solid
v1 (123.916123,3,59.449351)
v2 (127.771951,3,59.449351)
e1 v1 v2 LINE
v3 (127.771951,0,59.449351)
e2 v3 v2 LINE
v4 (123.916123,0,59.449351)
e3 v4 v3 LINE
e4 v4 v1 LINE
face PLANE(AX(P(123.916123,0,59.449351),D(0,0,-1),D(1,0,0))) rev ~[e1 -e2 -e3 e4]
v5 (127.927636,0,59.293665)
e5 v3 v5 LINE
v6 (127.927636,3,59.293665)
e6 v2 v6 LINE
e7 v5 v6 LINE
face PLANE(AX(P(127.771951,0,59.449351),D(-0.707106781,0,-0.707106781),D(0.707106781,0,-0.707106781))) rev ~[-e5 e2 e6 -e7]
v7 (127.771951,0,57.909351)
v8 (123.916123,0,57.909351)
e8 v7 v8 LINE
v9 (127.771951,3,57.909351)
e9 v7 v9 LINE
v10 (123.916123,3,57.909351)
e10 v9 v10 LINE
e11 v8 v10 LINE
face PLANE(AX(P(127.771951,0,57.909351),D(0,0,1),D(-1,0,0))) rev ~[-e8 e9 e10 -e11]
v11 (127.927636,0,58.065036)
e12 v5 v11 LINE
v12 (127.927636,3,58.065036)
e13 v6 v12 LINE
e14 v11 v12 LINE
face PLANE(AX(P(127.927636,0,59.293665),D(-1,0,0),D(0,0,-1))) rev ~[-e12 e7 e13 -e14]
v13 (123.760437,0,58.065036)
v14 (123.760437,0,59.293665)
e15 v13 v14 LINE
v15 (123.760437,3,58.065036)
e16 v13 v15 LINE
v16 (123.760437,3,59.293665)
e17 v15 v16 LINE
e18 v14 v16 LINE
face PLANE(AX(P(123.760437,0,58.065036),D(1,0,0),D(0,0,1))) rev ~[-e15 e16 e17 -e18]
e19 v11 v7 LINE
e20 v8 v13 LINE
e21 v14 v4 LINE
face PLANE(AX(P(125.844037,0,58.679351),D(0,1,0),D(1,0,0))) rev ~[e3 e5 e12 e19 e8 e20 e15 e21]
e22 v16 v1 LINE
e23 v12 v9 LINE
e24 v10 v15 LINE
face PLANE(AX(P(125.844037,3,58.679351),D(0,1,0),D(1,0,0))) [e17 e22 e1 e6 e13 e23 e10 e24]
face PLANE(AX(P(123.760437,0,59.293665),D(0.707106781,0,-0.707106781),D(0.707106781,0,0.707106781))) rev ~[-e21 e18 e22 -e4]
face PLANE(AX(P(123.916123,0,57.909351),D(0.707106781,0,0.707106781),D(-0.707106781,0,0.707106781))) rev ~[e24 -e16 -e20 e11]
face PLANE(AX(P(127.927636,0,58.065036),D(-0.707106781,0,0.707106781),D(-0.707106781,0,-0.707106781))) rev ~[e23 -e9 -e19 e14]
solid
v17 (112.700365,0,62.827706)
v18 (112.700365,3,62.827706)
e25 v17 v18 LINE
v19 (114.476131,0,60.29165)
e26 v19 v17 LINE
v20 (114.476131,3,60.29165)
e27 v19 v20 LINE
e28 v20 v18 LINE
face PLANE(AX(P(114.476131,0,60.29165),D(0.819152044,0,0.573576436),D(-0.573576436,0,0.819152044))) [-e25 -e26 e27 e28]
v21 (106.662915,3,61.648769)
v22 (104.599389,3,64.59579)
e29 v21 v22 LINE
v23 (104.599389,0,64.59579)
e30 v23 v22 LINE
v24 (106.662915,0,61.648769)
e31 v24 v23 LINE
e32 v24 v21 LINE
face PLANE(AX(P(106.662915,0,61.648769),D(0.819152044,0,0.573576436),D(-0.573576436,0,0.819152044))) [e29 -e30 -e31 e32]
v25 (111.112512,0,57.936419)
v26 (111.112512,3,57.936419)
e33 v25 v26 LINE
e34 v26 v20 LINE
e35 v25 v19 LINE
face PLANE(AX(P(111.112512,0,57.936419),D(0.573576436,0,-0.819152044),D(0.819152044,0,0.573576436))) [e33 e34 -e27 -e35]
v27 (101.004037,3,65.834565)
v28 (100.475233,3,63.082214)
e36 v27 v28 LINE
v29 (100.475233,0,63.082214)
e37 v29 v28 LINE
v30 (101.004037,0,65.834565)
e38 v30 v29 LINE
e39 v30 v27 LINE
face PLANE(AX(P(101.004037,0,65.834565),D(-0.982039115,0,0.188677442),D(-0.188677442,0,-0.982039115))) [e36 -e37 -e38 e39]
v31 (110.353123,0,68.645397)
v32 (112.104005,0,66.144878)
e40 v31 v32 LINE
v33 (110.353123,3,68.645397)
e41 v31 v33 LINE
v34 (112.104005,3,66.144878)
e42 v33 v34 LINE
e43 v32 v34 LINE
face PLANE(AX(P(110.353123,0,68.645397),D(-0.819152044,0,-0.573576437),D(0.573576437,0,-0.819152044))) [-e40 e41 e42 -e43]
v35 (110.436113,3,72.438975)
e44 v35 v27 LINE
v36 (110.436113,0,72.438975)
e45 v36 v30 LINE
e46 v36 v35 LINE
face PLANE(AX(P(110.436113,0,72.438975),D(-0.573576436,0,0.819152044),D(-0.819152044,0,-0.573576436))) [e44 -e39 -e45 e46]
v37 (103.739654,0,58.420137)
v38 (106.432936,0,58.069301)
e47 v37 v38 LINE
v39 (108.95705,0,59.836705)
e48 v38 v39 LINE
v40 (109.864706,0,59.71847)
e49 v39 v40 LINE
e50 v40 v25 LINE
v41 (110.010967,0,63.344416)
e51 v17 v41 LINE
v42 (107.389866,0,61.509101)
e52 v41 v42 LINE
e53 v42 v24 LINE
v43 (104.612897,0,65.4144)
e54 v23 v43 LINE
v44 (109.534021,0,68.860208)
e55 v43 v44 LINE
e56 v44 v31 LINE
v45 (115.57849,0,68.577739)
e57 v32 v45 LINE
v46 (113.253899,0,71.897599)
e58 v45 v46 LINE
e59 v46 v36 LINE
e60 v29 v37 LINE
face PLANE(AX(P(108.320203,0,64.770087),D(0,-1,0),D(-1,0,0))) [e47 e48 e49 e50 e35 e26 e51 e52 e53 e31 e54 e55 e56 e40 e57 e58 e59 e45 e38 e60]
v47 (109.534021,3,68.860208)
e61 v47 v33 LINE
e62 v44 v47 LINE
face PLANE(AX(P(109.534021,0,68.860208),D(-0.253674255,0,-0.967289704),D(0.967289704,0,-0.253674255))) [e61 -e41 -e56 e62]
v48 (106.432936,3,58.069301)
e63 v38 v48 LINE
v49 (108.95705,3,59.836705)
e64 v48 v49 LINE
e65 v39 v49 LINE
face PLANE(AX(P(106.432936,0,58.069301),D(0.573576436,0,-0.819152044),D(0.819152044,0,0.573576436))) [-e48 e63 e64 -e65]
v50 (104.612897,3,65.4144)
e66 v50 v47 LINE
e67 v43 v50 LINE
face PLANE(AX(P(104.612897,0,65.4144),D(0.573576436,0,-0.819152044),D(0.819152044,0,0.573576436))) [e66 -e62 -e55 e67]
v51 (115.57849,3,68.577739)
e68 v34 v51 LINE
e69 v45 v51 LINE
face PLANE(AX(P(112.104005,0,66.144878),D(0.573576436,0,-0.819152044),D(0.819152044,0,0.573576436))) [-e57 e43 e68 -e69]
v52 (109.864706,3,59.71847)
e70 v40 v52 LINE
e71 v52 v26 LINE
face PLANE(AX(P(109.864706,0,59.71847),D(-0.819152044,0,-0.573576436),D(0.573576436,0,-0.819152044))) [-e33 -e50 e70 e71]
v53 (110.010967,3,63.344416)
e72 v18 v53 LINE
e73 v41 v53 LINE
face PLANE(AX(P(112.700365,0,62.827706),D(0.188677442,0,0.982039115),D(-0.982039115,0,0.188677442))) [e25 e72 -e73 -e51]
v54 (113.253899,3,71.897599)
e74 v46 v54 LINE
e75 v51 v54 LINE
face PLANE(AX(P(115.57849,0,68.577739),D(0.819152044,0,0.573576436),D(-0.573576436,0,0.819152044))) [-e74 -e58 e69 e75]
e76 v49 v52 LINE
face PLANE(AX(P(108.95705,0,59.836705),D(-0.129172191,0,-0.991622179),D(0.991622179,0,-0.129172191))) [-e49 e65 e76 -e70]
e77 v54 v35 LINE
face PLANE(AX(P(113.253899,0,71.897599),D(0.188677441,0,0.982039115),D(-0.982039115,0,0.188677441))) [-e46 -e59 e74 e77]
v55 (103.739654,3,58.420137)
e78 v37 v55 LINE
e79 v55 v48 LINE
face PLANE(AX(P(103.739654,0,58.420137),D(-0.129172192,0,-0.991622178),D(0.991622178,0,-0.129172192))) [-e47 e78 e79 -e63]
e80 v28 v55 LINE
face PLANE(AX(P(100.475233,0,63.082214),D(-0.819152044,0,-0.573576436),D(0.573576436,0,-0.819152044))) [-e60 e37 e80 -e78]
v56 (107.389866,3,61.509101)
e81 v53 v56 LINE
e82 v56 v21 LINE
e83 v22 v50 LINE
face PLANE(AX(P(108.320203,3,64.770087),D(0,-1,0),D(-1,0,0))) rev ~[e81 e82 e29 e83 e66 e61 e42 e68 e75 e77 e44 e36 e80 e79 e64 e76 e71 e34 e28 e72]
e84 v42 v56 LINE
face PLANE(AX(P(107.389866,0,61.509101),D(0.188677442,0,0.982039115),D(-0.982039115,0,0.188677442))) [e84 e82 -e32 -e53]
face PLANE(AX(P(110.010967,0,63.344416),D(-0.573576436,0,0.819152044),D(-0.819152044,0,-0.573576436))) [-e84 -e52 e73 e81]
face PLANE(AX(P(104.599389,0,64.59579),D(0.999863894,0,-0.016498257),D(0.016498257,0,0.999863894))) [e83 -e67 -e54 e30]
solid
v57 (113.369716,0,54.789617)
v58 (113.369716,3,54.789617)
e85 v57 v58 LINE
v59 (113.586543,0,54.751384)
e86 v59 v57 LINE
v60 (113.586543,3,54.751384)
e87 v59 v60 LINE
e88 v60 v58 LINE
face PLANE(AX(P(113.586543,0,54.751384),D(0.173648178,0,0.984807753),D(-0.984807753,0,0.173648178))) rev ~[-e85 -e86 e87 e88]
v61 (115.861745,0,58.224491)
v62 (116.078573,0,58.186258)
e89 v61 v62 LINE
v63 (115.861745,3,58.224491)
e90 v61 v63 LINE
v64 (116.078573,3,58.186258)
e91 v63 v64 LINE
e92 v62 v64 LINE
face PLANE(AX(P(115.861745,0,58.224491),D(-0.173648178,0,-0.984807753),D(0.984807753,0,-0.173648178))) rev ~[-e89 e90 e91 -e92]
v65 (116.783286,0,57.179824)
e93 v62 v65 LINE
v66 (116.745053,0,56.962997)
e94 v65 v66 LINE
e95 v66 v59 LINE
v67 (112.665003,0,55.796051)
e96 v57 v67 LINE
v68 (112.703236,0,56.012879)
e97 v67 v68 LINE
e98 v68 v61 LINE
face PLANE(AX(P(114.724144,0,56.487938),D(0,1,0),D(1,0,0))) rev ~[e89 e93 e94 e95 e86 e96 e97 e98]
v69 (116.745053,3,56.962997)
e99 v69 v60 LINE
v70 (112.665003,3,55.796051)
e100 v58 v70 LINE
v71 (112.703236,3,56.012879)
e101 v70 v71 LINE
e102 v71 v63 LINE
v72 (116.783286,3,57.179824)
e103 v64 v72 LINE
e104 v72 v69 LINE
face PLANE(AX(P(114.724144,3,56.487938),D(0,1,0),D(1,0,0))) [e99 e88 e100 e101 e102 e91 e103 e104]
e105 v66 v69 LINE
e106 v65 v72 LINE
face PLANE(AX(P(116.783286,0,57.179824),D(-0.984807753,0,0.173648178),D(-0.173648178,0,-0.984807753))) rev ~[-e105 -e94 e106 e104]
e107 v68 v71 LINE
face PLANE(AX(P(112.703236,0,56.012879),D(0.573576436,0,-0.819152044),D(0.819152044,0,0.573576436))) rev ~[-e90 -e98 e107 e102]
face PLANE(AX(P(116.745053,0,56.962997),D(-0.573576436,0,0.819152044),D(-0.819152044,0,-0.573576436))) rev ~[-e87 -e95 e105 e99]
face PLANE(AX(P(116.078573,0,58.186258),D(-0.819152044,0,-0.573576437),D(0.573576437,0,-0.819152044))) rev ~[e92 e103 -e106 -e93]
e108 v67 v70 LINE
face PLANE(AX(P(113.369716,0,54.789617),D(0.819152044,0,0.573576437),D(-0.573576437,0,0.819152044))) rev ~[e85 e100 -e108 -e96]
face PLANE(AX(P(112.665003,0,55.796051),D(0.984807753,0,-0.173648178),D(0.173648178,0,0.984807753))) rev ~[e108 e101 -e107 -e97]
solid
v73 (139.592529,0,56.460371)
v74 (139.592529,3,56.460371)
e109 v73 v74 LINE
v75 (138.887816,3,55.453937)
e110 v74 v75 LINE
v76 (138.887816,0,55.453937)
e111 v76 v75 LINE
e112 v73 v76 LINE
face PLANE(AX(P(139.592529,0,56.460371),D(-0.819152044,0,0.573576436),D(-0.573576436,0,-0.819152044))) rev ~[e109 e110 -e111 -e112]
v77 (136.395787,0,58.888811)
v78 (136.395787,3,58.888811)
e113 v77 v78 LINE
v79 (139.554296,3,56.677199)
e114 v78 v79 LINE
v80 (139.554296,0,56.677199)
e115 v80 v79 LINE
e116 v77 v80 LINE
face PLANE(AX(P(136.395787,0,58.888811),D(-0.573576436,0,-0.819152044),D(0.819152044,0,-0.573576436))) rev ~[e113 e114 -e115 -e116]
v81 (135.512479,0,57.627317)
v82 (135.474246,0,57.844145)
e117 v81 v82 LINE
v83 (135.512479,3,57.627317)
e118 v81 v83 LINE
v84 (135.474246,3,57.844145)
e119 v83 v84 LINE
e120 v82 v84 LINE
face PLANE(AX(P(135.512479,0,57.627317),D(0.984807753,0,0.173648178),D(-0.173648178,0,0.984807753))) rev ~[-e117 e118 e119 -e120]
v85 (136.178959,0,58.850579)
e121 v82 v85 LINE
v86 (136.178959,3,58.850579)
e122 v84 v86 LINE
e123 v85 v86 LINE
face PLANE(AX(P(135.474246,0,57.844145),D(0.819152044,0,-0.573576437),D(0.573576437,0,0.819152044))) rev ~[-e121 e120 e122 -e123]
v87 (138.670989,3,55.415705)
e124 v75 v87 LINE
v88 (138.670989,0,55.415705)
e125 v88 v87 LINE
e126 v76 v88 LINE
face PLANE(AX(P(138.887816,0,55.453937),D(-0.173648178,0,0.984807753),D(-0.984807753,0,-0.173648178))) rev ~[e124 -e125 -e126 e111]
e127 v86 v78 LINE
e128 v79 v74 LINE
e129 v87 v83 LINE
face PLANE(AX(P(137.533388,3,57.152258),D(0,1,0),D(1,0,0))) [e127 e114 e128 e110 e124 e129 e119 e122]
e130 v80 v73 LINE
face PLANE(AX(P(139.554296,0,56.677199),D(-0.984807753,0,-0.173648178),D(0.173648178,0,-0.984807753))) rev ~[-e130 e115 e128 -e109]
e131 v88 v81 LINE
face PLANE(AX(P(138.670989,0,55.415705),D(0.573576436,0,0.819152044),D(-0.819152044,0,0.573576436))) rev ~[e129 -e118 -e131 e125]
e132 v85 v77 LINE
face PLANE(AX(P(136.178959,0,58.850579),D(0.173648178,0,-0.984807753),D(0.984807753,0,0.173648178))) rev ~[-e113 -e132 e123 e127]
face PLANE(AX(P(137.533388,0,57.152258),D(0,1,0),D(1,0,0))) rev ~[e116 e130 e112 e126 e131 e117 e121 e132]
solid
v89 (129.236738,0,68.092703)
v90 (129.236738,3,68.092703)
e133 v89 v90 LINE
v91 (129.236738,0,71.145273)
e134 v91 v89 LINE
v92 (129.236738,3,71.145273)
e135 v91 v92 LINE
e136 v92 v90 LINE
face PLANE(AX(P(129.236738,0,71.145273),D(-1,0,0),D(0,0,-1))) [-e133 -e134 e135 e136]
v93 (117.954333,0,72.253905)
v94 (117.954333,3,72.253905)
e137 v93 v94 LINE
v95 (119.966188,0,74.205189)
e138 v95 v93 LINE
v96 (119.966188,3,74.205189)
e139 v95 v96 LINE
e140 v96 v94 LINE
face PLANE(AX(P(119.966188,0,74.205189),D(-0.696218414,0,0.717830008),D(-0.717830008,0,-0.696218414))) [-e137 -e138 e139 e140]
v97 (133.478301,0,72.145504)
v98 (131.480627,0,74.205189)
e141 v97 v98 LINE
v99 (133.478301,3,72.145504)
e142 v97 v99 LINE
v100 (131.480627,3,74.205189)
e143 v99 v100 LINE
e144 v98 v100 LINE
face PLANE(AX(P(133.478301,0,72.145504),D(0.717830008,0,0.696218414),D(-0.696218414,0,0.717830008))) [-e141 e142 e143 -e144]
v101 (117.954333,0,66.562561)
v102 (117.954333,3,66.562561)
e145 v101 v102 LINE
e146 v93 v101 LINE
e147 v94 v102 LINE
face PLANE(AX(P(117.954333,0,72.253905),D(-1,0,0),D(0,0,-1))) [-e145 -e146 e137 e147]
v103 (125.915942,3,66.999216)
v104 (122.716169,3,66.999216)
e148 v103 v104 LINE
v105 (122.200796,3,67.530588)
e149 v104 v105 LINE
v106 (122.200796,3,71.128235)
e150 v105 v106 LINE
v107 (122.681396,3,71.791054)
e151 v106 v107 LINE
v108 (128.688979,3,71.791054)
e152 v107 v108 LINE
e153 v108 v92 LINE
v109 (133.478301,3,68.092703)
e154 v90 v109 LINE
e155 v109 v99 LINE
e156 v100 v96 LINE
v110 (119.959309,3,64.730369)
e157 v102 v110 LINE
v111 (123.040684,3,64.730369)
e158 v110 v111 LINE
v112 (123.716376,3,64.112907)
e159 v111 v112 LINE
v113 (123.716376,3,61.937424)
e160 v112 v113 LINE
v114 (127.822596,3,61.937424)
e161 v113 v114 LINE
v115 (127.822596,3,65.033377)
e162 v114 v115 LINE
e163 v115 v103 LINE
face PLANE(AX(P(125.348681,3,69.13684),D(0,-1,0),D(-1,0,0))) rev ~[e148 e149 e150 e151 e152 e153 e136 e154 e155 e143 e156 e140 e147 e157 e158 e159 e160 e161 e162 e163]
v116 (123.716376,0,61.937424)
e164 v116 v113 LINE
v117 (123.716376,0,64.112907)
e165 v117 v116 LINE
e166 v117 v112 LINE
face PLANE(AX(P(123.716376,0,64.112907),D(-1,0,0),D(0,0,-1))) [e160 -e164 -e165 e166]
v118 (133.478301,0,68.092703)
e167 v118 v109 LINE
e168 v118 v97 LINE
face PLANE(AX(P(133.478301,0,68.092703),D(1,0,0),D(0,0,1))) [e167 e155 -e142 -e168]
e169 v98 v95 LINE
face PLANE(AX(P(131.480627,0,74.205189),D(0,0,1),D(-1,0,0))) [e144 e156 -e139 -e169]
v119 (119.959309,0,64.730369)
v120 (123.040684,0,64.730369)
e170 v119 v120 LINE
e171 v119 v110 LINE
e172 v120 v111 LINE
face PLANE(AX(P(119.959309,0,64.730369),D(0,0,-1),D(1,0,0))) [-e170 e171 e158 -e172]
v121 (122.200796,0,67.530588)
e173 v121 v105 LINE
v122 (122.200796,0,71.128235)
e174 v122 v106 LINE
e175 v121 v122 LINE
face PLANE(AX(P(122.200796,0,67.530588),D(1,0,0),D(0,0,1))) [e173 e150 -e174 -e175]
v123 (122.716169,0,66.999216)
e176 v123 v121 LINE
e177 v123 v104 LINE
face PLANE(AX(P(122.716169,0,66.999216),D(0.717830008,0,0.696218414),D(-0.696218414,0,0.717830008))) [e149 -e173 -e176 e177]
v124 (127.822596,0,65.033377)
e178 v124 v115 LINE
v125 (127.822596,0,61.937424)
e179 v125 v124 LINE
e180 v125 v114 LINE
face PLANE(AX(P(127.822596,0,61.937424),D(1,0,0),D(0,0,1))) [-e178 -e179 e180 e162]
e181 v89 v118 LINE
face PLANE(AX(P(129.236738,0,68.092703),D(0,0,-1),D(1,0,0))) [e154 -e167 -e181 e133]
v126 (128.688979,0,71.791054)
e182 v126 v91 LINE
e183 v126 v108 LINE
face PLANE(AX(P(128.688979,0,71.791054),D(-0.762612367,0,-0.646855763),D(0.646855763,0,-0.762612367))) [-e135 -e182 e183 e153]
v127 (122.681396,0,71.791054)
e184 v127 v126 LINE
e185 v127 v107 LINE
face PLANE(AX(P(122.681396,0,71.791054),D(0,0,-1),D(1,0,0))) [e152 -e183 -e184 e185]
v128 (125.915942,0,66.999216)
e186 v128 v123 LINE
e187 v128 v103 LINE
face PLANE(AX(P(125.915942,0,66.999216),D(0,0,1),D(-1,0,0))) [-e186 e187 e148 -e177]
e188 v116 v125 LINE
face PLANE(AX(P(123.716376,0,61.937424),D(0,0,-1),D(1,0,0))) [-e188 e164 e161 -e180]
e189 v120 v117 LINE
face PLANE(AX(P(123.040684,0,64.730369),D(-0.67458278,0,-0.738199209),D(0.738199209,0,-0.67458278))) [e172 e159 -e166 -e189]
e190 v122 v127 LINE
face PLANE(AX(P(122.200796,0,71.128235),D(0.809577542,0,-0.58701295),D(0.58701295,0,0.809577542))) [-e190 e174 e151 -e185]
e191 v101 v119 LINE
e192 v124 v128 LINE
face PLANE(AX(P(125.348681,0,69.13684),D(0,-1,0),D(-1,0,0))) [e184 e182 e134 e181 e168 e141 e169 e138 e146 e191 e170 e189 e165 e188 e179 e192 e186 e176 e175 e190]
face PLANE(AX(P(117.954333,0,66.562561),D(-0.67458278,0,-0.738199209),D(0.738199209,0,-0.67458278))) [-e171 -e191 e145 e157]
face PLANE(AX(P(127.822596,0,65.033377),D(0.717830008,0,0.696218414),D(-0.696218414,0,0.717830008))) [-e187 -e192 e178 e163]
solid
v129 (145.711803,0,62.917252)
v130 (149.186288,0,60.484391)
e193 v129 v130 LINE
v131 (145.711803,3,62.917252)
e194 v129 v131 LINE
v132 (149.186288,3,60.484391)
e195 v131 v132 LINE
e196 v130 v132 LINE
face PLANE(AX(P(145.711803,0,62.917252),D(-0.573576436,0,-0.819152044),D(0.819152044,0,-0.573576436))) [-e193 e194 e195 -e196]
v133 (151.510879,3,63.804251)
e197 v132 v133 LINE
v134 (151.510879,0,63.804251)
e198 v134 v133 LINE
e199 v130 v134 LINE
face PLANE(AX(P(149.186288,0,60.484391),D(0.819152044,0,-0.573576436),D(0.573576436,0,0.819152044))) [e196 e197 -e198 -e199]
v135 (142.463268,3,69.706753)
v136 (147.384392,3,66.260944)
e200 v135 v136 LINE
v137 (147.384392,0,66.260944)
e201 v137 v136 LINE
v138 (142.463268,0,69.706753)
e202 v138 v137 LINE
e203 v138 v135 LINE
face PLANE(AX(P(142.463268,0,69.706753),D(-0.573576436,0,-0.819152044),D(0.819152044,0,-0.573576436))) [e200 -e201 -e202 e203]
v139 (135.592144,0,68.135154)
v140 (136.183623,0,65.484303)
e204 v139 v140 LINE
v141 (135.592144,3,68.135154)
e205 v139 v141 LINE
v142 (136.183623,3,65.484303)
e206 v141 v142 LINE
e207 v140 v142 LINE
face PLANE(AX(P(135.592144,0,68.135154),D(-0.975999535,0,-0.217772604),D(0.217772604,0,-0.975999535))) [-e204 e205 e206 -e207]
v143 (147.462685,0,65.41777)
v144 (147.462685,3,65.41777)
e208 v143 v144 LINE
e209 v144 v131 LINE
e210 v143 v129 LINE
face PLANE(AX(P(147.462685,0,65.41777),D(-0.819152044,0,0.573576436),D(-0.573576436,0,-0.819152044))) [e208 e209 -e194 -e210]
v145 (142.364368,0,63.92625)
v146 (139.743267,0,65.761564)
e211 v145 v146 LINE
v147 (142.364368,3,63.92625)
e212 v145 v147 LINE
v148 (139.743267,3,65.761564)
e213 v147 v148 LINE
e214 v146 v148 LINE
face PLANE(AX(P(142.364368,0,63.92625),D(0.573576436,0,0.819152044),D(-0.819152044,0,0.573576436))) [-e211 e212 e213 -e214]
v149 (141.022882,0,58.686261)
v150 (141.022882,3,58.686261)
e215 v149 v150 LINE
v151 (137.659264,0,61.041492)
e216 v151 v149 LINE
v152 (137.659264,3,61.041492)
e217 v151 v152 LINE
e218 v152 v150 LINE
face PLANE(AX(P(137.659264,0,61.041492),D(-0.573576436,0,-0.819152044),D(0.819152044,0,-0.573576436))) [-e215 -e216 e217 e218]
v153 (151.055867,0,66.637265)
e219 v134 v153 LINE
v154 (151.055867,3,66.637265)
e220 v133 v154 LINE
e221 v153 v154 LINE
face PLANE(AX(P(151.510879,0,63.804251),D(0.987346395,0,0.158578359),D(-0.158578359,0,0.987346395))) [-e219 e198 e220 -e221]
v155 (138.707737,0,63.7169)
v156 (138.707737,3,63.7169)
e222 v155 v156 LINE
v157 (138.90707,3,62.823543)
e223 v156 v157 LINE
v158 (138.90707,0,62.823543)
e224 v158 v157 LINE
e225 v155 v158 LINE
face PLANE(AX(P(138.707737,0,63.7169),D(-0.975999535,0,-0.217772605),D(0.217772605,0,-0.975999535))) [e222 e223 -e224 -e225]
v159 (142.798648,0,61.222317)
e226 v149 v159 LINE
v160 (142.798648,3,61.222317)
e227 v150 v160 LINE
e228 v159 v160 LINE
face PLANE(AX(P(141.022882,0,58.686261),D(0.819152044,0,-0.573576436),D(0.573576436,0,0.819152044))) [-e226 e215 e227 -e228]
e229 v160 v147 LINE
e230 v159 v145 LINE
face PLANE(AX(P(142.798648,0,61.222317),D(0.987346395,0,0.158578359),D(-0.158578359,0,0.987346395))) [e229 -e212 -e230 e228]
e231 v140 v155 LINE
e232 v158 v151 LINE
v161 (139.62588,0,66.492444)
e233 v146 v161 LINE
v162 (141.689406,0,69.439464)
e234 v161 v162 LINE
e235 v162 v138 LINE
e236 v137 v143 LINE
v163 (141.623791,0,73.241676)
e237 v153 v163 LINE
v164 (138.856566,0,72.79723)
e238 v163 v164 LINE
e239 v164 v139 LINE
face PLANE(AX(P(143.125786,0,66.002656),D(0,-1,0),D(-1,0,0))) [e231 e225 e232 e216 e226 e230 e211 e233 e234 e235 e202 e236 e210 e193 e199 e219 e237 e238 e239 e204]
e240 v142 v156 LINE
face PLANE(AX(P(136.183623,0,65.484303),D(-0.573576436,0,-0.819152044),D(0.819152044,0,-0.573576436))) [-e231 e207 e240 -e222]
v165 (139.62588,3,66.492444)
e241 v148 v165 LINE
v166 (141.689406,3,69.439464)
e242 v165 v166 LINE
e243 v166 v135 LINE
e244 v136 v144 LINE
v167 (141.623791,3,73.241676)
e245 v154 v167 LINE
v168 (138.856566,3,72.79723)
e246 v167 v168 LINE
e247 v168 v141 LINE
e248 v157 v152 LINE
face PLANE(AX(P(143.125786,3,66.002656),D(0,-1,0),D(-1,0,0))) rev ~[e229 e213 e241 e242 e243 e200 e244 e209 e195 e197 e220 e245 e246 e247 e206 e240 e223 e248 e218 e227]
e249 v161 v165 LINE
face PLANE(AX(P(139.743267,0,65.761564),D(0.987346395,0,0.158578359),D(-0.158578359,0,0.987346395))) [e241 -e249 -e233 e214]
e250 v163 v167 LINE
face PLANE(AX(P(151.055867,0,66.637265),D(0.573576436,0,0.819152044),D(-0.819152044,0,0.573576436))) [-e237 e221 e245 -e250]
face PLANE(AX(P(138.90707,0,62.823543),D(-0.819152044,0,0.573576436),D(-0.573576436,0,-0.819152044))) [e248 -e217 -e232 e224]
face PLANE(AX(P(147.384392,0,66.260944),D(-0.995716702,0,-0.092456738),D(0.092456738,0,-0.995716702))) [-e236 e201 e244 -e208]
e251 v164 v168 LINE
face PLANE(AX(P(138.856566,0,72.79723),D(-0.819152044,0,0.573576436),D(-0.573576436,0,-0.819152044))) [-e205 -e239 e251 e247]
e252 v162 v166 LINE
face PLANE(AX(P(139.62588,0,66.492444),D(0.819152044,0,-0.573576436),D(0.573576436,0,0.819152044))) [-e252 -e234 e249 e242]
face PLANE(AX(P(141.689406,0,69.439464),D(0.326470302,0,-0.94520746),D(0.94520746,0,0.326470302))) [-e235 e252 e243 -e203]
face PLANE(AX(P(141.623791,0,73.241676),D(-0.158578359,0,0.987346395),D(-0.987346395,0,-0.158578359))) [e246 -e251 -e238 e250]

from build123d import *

# Parameters (mm, degrees)
EXTRUDE_1_DEPTH   = 3
EXTRUDE_1_2_DEPTH = 3
EXTRUDE_1_3_DEPTH = 3
EXTRUDE_1_4_DEPTH = 3
EXTRUDE_1_5_DEPTH = 3
EXTRUDE_1_6_DEPTH = 3


with BuildPart() as part:
    # 草图1 → 凸台-拉伸1 (new body)
    with BuildSketch(Plane(origin=(0, 0, 0), x_dir=(1, 0, 0), z_dir=(0, 1, 0))):
        Polygon((133.478301119, -68.092703376), (133.478301119, -72.145504343), (131.48062664, -74.205189433), (119.966187708, -74.205189433), (117.95433315, -72.25390546), (117.95433315, -66.562560774), (119.959309081, -64.73036938), (123.040683717, -64.73036938), (123.716375585, -64.112907192), (123.716375585, -61.937424195), (127.822595537, -61.937424195), (127.822595537, -65.033377491), (125.915941831, -66.999216397), (122.716168825, -66.999216397), (122.200795542, -67.530587588), (122.200795542, -71.128235111), (122.68139591, -71.791053989), (128.688979458, -71.791053989), (129.236737634, -71.145272993), (129.236737634, -68.092703376), align=None)
    extrude(amount=EXTRUDE_1_DEPTH)


with BuildPart() as body_2:
    # 草图1 → Extrude 1 2 (new body)
    with BuildSketch(Plane(origin=(0, 0, 0), x_dir=(1, 0, 0), z_dir=(0, 1, 0))):
        Polygon((127.771950867, -59.449350686), (127.927636292, -59.293665261), (127.927636292, -58.065036111), (127.771950867, -57.909350686), (123.91612256, -57.909350686), (123.760437135, -58.065036111), (123.760437135, -59.293665261), (123.91612256, -59.449350686), align=None)
    extrude(amount=EXTRUDE_1_2_DEPTH)


with BuildPart() as body_3:
    # 草图1 → Extrude 1 3 (new body)
    with BuildSketch(Plane(origin=(0, 0, 0), x_dir=(1, 0, 0), z_dir=(0, 1, 0))):
        Polygon((142.798648209, -61.22231729), (142.364367802, -63.926249886), (139.743267203, -65.761564284), (139.625880119, -66.492444053), (141.689405964, -69.439464376), (142.463268029, -69.706752768), (147.384392373, -66.260944405), (147.462684841, -65.4177704), (145.711802838, -62.917251758), (149.186288237, -60.48439089), (151.510879373, -63.804251087), (151.055867074, -66.637265347), (141.623790884, -73.241676197), (138.856565602, -72.797230309), (135.592144399, -68.135153675), (136.183622722, -65.484303399), (138.707737054, -63.716899516), (138.907069668, -62.823543169), (137.659263883, -61.041491825), (141.022882351, -58.686260818), align=None)
    extrude(amount=EXTRUDE_1_3_DEPTH)


with BuildPart() as body_4:
    # 草图1 → Extrude 1 4 (new body)
    with BuildSketch(Plane(origin=(0, 0, 0), x_dir=(1, 0, 0), z_dir=(0, 1, 0))):
        Polygon((138.670988617, -55.415704758), (135.512478977, -57.627317017), (135.474246434, -57.844144543), (136.178959164, -58.850578623), (136.395786689, -58.888811166), (139.554296329, -56.677198906), (139.592528872, -56.460371381), (138.887816143, -55.453937301), align=None)
    extrude(amount=EXTRUDE_1_4_DEPTH)


with BuildPart() as body_5:
    # 草图1 → Extrude 1 5 (new body)
    with BuildSketch(Plane(origin=(0, 0, 0), x_dir=(1, 0, 0), z_dir=(0, 1, 0))):
        Polygon((112.700364747, -62.827706461), (110.010966593, -63.344415781), (107.389865994, -61.509101383), (106.66291492, -61.64876921), (104.599389075, -64.595789533), (104.61289656, -65.414400018), (109.534020904, -68.86020838), (110.353122896, -68.64539674), (112.104004899, -66.144878099), (115.578490298, -68.577738967), (113.253899162, -71.897599164), (110.436113196, -72.438975407), (101.004037005, -65.834564557), (100.475232738, -63.082213934), (103.739653942, -58.4201373), (106.432935885, -58.069300924), (108.957050218, -59.836704806), (109.864706353, -59.718470327), (111.112512138, -57.936418982), (114.476130606, -60.291649989), align=None)
    extrude(amount=EXTRUDE_1_5_DEPTH)


with BuildPart() as body_6:
    # 草图1 → Extrude 1 6 (new body)
    with BuildSketch(Plane(origin=(0, 0, 0), x_dir=(1, 0, 0), z_dir=(0, 1, 0))):
        Polygon((116.74505297, -56.962996751), (113.58654333, -54.751384491), (113.369715805, -54.789617034), (112.665003075, -55.796051114), (112.703235618, -56.012878639), (115.861745258, -58.224490899), (116.078572783, -58.186258356), (116.783285513, -57.179824276), align=None)
    extrude(amount=EXTRUDE_1_6_DEPTH)


solid = Compound([part.part, body_2.part, body_3.part, body_4.part, body_5.part, body_6.part])
